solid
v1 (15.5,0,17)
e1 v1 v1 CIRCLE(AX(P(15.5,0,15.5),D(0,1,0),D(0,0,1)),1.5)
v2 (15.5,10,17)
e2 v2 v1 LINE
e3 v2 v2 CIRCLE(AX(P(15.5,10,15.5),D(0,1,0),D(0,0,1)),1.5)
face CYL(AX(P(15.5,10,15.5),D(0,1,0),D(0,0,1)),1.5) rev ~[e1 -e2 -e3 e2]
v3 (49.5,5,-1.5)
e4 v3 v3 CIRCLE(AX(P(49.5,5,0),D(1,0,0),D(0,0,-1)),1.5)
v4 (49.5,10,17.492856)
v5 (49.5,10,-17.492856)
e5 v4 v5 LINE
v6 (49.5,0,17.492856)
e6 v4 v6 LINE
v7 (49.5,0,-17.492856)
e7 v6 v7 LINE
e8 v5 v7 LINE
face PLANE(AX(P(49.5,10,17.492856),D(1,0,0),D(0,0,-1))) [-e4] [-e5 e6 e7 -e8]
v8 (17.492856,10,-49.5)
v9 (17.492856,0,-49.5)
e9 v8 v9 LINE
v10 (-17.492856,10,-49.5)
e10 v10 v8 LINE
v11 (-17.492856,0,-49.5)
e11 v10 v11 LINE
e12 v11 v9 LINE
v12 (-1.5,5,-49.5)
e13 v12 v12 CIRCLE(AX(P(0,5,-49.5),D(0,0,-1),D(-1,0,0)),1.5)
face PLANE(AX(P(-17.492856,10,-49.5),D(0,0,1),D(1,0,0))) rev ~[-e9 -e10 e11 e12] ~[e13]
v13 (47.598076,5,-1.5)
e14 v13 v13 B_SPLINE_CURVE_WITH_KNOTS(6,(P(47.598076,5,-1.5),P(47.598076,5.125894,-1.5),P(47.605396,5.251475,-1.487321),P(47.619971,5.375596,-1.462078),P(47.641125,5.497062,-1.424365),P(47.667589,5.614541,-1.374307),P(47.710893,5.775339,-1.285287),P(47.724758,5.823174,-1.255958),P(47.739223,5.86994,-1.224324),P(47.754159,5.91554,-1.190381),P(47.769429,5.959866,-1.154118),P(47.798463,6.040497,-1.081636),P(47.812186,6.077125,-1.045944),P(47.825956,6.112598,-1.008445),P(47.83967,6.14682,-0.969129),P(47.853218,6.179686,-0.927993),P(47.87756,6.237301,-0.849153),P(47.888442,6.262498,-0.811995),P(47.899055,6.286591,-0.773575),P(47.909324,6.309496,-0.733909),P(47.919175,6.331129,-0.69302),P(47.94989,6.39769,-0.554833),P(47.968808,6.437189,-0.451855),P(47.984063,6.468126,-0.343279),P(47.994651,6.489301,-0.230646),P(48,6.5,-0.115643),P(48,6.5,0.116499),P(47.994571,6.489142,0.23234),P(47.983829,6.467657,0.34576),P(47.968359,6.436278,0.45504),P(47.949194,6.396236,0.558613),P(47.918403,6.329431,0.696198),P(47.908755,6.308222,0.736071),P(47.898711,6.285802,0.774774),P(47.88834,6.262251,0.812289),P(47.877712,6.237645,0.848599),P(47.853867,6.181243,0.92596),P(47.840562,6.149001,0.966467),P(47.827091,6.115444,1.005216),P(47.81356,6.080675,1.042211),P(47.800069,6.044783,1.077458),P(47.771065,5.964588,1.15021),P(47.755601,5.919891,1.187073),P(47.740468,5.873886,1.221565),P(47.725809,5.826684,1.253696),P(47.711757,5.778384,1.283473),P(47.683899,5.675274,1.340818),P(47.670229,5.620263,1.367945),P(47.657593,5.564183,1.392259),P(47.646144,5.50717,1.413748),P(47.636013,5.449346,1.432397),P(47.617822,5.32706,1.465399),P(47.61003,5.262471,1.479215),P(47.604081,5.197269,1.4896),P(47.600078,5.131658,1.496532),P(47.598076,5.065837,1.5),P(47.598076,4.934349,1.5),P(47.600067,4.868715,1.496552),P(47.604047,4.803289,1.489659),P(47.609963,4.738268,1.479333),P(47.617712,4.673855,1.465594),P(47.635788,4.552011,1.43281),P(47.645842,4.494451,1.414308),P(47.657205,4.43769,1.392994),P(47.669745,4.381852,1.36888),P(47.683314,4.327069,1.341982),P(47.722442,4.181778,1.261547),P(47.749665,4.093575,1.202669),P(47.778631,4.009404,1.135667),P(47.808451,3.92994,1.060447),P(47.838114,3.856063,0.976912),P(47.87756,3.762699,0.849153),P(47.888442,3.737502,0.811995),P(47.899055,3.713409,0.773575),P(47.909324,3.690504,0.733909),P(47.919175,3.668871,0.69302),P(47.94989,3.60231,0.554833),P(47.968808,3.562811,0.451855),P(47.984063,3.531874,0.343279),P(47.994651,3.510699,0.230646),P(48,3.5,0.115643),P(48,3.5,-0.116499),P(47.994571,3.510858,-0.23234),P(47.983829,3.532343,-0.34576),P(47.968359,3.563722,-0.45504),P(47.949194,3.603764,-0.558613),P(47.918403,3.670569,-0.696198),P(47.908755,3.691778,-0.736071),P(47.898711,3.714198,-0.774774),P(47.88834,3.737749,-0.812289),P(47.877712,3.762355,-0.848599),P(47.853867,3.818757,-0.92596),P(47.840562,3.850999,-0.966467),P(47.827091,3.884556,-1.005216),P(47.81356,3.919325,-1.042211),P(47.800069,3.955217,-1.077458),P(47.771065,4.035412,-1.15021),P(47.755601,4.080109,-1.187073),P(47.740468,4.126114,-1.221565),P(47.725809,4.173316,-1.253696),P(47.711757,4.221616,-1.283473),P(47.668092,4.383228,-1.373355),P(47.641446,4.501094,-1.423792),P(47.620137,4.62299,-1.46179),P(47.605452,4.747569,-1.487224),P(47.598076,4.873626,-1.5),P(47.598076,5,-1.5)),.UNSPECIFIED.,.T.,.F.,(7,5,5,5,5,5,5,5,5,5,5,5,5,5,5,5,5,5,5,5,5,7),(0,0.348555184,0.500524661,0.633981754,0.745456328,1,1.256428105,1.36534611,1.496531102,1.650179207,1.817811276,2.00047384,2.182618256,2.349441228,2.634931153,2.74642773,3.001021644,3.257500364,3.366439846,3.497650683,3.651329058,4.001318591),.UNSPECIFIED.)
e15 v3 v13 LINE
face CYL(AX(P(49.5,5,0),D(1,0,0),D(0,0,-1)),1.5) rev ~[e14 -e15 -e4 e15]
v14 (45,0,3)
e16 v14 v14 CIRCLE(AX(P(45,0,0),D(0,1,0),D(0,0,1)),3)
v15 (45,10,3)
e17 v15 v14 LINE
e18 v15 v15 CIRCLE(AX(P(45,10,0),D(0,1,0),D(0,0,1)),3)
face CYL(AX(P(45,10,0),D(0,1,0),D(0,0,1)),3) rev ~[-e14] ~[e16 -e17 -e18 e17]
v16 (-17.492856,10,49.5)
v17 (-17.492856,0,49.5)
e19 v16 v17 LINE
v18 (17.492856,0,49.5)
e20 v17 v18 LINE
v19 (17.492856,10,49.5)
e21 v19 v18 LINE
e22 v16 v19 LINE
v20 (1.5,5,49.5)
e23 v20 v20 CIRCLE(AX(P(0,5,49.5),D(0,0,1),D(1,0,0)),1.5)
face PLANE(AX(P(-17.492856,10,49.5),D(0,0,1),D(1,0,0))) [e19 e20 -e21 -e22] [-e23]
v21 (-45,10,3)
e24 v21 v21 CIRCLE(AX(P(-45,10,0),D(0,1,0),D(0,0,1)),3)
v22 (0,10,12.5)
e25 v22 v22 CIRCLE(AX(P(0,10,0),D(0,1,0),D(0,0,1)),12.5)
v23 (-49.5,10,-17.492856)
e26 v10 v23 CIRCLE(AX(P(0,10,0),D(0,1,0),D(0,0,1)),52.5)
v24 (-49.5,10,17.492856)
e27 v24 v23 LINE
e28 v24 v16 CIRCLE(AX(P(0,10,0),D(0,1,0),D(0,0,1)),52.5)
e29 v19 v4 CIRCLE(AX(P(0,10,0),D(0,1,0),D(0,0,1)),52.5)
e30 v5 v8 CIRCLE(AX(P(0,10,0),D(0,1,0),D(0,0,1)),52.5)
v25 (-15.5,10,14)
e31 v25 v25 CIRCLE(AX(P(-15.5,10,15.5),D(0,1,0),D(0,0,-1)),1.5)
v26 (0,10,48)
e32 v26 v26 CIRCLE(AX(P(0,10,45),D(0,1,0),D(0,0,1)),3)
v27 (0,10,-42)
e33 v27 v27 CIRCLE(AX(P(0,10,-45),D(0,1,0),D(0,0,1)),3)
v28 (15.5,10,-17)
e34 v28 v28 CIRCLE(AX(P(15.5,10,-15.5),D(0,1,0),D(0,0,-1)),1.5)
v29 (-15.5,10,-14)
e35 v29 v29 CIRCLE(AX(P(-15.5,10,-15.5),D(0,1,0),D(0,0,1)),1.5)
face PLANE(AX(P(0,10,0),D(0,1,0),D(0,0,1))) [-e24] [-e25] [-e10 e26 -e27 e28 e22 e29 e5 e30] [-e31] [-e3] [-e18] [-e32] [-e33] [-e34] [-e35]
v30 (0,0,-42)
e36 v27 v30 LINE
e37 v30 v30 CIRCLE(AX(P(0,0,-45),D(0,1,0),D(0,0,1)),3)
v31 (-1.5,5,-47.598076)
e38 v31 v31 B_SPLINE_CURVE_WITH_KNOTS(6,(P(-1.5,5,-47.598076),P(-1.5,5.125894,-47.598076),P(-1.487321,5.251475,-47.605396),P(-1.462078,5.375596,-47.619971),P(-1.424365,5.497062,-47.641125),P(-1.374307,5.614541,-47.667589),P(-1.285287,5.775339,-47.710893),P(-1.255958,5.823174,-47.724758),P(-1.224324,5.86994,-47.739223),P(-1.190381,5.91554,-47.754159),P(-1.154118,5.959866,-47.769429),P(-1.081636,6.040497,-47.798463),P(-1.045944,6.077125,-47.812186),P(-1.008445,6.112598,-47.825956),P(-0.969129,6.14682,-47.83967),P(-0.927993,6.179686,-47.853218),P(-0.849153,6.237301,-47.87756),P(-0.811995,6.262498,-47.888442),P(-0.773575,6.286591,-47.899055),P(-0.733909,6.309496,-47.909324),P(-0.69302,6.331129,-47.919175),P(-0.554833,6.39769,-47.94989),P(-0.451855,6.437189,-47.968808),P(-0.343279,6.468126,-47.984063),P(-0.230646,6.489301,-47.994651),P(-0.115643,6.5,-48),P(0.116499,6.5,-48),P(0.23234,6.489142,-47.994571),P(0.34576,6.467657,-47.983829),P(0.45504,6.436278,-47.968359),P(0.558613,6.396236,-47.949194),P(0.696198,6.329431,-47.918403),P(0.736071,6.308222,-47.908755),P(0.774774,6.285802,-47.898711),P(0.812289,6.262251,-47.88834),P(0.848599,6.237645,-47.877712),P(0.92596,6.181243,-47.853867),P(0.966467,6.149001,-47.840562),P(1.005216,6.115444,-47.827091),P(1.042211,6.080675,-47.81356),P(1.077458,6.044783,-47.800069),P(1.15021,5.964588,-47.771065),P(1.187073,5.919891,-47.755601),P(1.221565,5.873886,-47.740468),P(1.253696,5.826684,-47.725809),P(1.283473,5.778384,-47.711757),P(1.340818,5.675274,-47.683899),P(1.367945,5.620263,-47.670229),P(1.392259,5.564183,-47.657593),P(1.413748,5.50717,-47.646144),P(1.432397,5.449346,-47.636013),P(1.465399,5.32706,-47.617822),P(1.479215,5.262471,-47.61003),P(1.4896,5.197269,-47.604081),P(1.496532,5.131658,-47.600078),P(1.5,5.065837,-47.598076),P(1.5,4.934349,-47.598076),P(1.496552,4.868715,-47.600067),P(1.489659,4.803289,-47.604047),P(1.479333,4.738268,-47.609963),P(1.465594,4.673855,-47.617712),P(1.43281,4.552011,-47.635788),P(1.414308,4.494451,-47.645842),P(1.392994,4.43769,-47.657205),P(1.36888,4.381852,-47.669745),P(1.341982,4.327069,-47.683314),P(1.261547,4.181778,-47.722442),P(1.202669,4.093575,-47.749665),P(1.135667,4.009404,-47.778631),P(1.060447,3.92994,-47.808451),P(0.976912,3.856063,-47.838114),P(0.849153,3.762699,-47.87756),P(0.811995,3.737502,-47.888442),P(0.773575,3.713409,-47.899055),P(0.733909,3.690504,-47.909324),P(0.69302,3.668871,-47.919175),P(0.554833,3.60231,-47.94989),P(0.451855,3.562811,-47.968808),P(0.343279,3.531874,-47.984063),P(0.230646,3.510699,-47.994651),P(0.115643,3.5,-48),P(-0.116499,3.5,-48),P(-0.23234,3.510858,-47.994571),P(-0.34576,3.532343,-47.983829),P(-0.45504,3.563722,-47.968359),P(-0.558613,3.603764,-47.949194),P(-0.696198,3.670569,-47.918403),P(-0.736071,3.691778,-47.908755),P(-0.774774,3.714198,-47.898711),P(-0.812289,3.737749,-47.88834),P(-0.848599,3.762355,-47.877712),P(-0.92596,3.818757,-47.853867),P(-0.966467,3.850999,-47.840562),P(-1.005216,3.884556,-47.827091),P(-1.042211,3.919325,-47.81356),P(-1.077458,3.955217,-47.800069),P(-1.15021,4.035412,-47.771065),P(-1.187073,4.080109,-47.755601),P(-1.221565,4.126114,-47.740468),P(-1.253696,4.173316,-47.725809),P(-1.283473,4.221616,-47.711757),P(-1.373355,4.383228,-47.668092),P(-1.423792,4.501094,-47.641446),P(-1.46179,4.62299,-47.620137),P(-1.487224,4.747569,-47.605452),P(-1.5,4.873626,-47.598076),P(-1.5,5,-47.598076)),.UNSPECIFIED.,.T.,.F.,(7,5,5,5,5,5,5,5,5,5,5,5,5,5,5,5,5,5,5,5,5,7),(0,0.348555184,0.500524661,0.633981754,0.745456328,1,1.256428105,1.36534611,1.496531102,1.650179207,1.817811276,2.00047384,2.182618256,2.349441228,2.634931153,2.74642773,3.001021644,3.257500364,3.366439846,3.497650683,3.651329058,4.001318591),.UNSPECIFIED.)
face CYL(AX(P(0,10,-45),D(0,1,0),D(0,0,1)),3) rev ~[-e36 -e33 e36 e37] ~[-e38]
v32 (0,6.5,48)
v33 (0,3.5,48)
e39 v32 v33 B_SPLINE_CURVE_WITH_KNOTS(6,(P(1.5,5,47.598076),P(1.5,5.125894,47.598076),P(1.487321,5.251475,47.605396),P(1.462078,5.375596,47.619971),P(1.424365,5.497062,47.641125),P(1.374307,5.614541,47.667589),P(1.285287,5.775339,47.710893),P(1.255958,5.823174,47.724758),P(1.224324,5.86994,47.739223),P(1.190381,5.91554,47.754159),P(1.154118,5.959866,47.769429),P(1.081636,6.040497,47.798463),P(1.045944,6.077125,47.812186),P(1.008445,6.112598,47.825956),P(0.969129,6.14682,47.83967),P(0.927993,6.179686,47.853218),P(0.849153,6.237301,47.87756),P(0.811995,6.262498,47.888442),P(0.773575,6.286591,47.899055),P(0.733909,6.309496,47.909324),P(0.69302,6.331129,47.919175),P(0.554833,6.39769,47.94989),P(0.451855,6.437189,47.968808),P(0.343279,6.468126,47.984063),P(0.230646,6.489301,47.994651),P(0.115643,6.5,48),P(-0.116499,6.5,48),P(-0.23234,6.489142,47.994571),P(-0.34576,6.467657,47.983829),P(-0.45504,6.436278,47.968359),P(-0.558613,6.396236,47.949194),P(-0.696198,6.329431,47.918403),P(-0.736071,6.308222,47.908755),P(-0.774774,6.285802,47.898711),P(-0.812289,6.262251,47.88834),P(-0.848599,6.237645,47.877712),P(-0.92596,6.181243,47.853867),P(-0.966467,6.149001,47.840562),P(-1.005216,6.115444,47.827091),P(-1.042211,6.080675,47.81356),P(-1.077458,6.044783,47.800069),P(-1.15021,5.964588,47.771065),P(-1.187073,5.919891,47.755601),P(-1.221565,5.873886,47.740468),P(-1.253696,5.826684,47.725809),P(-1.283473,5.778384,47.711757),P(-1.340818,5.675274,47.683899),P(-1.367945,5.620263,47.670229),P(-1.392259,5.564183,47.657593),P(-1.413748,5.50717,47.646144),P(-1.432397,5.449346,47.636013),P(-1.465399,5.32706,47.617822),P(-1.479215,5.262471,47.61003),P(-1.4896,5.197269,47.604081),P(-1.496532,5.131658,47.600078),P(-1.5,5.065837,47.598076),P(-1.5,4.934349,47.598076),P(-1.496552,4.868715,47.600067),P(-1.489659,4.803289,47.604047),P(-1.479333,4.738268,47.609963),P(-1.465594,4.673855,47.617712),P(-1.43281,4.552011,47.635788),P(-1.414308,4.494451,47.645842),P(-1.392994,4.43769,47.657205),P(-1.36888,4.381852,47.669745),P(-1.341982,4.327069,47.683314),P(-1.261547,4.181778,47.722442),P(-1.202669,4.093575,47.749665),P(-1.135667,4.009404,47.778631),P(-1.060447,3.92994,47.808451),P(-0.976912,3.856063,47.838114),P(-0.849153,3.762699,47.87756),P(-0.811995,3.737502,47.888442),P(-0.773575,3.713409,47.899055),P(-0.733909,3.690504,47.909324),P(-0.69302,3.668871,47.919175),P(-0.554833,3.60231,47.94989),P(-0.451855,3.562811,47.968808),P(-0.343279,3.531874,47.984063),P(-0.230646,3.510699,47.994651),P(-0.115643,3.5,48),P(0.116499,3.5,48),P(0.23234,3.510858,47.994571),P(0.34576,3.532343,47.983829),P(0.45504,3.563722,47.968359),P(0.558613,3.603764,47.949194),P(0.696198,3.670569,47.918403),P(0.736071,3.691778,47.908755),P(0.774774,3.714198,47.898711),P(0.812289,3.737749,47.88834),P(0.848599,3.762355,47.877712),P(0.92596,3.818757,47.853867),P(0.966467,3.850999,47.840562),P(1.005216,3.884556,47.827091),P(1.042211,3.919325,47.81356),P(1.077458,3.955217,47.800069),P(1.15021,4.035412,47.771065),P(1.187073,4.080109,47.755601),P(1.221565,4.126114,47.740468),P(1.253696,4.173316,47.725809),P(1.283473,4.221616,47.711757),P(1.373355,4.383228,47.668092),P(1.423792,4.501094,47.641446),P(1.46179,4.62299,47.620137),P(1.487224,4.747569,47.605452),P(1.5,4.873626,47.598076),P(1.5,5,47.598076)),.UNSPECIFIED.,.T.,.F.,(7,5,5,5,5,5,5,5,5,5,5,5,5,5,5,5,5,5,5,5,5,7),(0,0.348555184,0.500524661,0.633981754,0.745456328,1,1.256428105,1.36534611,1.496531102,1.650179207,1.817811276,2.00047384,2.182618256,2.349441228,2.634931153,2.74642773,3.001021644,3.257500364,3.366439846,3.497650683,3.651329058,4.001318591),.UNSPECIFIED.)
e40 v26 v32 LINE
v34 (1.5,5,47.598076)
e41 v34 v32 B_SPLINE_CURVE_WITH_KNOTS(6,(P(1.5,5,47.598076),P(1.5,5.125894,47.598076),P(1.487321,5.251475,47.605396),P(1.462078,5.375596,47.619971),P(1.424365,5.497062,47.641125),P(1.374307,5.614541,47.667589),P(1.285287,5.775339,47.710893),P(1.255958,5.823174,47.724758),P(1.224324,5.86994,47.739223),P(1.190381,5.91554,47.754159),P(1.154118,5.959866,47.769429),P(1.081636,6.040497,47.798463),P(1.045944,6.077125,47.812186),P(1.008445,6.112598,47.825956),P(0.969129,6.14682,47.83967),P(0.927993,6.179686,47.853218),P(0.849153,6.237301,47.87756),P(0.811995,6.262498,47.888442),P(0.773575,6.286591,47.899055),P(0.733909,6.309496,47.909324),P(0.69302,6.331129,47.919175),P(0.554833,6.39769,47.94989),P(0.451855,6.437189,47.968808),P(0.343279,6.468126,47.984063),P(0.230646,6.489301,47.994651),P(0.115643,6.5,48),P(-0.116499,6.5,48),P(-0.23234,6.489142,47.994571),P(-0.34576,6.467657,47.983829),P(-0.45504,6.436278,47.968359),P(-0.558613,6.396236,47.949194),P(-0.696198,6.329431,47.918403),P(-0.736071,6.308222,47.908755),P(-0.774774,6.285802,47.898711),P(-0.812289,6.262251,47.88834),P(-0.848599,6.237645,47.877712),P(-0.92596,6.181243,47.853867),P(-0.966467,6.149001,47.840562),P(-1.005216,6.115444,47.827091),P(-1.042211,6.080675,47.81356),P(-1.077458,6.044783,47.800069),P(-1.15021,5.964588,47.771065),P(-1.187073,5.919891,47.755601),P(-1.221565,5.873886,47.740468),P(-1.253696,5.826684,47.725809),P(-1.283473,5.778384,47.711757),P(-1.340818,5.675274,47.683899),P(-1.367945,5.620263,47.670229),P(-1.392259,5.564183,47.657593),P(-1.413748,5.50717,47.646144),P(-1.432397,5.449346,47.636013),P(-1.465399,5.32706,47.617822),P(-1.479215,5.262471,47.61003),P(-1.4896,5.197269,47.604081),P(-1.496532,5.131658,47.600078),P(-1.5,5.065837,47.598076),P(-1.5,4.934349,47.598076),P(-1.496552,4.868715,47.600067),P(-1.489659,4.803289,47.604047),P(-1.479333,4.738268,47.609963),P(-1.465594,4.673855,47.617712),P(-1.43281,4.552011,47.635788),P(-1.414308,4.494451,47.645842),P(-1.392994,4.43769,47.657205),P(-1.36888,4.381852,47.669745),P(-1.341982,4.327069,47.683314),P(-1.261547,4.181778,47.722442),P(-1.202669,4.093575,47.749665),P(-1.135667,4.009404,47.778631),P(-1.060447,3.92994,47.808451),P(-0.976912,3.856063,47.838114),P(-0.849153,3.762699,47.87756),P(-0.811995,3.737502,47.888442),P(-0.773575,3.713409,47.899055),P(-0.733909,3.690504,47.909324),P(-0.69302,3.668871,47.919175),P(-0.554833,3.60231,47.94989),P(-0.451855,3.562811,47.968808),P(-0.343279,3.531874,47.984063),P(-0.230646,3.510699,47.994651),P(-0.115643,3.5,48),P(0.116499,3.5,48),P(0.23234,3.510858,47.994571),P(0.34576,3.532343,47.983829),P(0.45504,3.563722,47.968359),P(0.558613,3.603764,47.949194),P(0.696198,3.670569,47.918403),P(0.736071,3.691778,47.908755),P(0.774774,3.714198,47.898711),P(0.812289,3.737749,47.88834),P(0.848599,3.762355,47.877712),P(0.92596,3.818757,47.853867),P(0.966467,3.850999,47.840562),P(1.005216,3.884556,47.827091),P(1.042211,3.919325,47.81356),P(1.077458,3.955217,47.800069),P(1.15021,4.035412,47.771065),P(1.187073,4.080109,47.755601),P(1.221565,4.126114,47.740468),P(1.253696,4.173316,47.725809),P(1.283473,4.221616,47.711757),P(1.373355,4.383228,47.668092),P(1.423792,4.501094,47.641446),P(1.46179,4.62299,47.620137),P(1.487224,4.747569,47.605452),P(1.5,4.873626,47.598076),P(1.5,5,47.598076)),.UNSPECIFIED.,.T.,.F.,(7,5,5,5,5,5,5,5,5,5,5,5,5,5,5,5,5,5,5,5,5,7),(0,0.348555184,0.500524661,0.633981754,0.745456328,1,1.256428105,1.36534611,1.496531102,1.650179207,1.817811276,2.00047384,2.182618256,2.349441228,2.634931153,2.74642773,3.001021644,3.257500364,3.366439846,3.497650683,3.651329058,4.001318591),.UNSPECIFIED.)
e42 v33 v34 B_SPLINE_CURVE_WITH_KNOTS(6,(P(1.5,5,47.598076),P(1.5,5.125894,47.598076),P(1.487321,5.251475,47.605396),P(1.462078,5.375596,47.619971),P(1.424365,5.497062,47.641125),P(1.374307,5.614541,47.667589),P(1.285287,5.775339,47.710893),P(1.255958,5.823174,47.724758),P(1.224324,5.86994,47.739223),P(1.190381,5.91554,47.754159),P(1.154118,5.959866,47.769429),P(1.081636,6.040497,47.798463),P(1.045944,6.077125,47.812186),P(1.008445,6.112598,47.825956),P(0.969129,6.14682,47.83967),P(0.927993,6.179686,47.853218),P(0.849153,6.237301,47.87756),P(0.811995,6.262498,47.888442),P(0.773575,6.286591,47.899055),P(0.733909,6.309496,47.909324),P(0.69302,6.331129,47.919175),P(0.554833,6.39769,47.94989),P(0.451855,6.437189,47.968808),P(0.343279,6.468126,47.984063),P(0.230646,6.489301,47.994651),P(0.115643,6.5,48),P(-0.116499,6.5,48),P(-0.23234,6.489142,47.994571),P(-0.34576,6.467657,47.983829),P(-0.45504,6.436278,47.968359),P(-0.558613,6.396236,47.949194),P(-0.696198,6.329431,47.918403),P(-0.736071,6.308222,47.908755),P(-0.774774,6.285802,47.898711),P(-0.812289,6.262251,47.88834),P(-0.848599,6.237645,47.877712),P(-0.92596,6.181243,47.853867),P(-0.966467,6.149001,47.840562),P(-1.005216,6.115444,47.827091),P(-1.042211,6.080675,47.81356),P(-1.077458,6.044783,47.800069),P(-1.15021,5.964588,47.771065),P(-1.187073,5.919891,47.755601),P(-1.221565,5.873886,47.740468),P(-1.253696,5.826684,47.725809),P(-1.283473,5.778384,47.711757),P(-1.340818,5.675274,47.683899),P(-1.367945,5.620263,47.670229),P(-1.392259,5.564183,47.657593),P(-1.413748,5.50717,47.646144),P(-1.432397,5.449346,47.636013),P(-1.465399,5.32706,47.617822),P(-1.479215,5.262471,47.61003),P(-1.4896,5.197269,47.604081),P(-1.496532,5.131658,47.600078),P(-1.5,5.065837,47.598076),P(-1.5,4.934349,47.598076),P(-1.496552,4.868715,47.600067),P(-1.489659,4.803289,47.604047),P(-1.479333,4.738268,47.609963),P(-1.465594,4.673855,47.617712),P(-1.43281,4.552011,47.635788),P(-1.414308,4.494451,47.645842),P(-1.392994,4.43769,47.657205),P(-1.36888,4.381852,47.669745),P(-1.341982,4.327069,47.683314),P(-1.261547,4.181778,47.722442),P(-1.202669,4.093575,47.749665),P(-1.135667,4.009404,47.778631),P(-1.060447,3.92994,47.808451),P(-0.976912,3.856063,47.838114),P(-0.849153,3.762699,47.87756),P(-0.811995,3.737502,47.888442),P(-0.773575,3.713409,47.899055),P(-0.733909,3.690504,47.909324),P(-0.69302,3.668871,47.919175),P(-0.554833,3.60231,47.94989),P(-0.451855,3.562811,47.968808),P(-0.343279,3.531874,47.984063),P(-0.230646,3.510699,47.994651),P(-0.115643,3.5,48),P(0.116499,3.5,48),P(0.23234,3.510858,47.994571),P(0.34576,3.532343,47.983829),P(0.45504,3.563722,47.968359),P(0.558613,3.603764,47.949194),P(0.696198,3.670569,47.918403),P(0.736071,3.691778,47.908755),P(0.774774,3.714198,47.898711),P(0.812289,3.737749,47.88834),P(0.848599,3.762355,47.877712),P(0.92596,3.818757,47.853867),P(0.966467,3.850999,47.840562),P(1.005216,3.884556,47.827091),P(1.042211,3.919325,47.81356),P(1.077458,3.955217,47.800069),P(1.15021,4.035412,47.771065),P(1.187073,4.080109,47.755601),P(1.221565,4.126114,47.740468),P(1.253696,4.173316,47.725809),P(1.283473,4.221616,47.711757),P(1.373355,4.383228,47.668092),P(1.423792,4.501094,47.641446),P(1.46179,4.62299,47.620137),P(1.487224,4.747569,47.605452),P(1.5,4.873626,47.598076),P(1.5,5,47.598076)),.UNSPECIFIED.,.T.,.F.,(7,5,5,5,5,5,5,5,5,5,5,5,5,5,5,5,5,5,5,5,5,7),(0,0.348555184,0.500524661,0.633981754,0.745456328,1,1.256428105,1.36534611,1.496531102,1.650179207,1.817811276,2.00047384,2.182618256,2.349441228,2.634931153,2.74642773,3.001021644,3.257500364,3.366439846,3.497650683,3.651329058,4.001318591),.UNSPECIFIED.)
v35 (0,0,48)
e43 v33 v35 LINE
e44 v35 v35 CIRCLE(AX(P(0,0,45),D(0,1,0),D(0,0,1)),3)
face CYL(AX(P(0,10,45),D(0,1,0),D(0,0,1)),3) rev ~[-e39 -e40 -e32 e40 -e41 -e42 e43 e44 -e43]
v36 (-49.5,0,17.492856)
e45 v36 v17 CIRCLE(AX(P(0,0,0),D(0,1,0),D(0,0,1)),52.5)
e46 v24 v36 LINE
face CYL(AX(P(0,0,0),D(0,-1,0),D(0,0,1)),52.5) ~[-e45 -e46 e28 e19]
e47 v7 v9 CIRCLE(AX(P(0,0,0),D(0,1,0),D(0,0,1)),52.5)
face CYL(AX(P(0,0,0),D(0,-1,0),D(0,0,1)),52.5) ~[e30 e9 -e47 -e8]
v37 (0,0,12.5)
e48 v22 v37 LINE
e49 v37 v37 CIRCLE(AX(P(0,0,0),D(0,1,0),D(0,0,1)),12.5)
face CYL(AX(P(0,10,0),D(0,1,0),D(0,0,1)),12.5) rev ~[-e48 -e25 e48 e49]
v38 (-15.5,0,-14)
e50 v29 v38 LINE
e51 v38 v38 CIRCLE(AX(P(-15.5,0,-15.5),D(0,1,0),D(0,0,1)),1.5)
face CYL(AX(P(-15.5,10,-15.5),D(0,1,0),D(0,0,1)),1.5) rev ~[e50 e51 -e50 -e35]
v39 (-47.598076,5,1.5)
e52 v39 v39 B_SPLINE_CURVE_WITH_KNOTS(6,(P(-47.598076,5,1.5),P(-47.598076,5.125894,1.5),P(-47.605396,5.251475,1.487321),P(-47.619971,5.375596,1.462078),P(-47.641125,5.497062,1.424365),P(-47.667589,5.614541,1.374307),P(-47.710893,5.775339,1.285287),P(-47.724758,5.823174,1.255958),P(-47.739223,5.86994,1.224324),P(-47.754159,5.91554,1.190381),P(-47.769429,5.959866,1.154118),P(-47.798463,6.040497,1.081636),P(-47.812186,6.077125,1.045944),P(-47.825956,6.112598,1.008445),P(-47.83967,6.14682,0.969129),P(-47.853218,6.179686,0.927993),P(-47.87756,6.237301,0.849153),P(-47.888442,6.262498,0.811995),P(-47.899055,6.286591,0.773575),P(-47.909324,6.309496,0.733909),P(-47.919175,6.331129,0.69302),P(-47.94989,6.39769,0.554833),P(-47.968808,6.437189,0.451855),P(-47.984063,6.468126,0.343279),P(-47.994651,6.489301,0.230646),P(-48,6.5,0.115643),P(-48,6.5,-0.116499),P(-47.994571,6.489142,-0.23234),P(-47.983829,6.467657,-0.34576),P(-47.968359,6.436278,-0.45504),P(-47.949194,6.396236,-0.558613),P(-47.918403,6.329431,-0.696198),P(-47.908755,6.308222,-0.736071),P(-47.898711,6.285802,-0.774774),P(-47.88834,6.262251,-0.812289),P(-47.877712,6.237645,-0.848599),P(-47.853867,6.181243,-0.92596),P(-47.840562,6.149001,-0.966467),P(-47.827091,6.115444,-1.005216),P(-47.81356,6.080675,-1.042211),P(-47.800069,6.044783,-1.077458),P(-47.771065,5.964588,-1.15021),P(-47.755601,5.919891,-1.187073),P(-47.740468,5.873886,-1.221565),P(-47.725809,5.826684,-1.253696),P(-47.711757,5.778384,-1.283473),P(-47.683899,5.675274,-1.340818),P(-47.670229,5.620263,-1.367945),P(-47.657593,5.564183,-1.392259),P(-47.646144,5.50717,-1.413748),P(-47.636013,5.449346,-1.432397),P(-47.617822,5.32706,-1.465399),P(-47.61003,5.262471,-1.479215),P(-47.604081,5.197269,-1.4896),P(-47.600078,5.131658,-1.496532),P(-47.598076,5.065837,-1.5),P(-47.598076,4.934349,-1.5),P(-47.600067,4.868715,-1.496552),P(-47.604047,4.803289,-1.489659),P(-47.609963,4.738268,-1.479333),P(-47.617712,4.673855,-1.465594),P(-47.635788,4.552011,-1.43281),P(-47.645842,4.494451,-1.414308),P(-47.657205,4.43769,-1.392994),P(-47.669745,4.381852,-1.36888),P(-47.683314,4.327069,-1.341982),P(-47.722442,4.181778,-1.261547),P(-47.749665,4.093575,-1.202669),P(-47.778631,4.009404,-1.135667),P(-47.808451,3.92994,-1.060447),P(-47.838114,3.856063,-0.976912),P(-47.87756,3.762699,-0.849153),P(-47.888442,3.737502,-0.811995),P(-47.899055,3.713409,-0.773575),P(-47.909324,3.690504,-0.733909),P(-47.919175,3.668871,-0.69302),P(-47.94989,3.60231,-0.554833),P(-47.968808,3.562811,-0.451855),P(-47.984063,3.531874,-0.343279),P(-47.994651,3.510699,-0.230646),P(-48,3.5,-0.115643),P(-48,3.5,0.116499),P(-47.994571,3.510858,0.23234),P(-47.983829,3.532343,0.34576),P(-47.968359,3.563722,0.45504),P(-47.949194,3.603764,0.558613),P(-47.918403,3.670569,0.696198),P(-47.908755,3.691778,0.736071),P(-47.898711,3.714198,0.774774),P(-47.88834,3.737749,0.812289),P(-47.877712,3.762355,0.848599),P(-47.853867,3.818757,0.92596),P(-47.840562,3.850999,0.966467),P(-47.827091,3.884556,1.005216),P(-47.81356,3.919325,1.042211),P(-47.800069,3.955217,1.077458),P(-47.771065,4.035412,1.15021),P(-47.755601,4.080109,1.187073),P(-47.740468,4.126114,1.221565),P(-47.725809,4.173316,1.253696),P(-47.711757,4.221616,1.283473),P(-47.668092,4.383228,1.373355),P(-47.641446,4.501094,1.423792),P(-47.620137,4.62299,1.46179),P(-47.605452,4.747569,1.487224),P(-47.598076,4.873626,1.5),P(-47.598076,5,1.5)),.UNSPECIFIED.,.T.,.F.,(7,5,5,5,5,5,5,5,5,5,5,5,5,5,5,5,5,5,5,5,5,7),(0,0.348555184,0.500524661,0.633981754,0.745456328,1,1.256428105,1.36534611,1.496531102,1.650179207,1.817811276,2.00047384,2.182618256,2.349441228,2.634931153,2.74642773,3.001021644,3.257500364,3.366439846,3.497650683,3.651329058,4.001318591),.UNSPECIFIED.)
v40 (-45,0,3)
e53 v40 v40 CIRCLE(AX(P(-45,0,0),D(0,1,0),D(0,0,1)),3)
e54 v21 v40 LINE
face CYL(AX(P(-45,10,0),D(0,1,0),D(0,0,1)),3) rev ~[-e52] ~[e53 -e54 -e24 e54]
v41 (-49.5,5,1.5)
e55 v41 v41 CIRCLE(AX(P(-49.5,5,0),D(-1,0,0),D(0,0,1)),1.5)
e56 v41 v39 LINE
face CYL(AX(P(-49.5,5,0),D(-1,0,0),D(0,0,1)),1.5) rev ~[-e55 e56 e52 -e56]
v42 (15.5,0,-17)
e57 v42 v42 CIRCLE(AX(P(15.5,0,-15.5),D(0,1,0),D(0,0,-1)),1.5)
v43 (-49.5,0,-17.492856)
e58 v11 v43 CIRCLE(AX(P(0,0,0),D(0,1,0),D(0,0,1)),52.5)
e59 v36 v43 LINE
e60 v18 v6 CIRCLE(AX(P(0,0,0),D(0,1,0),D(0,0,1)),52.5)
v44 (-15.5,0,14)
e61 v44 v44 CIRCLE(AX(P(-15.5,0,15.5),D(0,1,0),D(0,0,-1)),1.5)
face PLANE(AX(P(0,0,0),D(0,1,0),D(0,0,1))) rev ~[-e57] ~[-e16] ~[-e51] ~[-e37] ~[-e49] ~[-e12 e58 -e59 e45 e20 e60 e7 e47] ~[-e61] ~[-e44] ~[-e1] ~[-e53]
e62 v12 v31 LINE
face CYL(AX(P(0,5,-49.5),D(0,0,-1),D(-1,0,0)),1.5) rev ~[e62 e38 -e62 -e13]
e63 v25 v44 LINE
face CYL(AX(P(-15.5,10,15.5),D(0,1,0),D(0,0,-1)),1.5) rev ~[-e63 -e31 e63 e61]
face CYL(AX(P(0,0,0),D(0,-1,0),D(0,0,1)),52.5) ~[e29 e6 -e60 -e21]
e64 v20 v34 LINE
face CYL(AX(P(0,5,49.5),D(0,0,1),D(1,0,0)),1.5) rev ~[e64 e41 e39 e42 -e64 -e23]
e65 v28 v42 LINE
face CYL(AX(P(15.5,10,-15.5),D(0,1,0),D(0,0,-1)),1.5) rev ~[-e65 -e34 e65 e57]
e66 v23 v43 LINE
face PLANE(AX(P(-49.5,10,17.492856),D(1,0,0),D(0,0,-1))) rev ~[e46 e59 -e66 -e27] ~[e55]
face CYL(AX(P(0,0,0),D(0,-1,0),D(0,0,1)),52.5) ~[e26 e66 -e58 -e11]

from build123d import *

# Parameters (mm, degrees)
SKETCH1_R               = 52.5
BOSS_EXTRUDE1_DEPTH     = 10
SKETCH3_R               = 3
CUT_EXTRUDE1_DEPTH      = 75.916620319
SKETCH4_W               = 34.98571137
SKETCH4_H               = 10
SKETCH4_W_2             = 10
SKETCH4_H_2             = 34.98571137
CUT_EXTRUDE_THIN1_DEPTH = 75.916620319
CUT_EXTRUDE3_REACH      = 113.136
CUT_EXTRUDE3_END_RADIUS = 3
SKETCH5_R               = 1.5
CIRPATTERN1_COUNT       = 4
SKETCH6_R               = 12.5
CUT_EXTRUDE4_DEPTH      = 71.714213718
SKETCH7_R               = 1.5
CUT_EXTRUDE5_DEPTH      = 71.714213718


with BuildPart() as part:
    # Sketch1 → Boss-Extrude1 (new body)
    with BuildSketch(Plane(origin=(0, 0, 0), x_dir=(1, 0, 0), z_dir=(0, 1, 0))):
        with Locations(Location((0, 0, 0), (0, 0, 270))):
            Circle(SKETCH1_R)
    extrude(amount=BOSS_EXTRUDE1_DEPTH)

    # Sketch3 → Cut-Extrude1 (cut, through all)
    with BuildSketch(Plane(origin=(0, 10, 0), x_dir=(1, 0, 0), z_dir=(0, 1, 0))):
        with Locations(Location((0, 45, 0), (0, 0, 270))):
            Circle(SKETCH3_R)
        with Locations(Location((45, 0, 0), (0, 0, 270))):
            Circle(SKETCH3_R)
        with Locations(Location((0, -45, 0), (0, 0, 270))):
            Circle(SKETCH3_R)
        with Locations(Location((-45, 0, 0), (0, 0, 270))):
            Circle(SKETCH3_R)
    extrude(amount=-CUT_EXTRUDE1_DEPTH, mode=Mode.SUBTRACT)

    # Sketch4 → Cut-Extrude-Thin1 (cut, through all)
    with BuildSketch(Plane(origin=(0, 10, 0), x_dir=(1, 0, 0), z_dir=(0, 1, 0))):
        with Locations((0, -54.5)):
            Rectangle(SKETCH4_W, SKETCH4_H)
        with Locations((54.5, 0)):
            Rectangle(SKETCH4_W_2, SKETCH4_H_2)
        with Locations((0, 54.5)):
            Rectangle(SKETCH4_W, SKETCH4_H)
        with Locations((-54.5, 0)):
            Rectangle(SKETCH4_W_2, SKETCH4_H_2)
    extrude(amount=-CUT_EXTRUDE_THIN1_DEPTH, mode=Mode.SUBTRACT)

    # Cut-Extrude3: up to this cylinder (the profile starts outside it)
    cut_extrude3_end = Plane(origin=(0, 5, 45), z_dir=(0, 1, 0)) * Cylinder(CUT_EXTRUDE3_END_RADIUS, 233.272, mode=Mode.PRIVATE)
    # Sketch5 → Cut-Extrude3 (cut, up to the surface)
    with BuildSketch(Plane.XY.offset(49.5), mode=Mode.PRIVATE) as cut_extrude3_sk1:
        with Locations((0, 5)):
            Circle(SKETCH5_R)
    cut_extrude3_tool1 = extrude(cut_extrude3_sk1.sketch, amount=-CUT_EXTRUDE3_REACH, mode=Mode.PRIVATE) - cut_extrude3_end
    cut_extrude3 = cut_extrude3_tool1.solids().sort_by_distance((0, 5, 49.5))[0]
    add(cut_extrude3, mode=Mode.SUBTRACT)

    # CirPattern1: Cut-Extrude3 ×4 about axis
    cirpattern1_axis = Axis((0, 10, 0), (0, -1, 0))
    for i in range(1, CIRPATTERN1_COUNT):
        add(cut_extrude3.rotate(cirpattern1_axis, i * 360 / CIRPATTERN1_COUNT), mode=Mode.SUBTRACT)

    # Sketch6 → Cut-Extrude4 (cut, through all)
    with BuildSketch(Plane(origin=(0, 10, 0), x_dir=(1, 0, 0), z_dir=(0, 1, 0))):
        with Locations(Location((0, 0, 0), (0, 0, 270))):
            Circle(SKETCH6_R)
    extrude(amount=-CUT_EXTRUDE4_DEPTH, mode=Mode.SUBTRACT)

    # Sketch7 → Cut-Extrude5 (cut, through all)
    with BuildSketch(Plane(origin=(0, 10, 0), x_dir=(1, 0, 0), z_dir=(0, 1, 0))):
        with Locations(Location((-15.5, 15.5, 0), (0, 0, 270))):
            Circle(SKETCH7_R)
        with Locations(Location((15.5, 15.5, 0), (0, 0, 90))):
            Circle(SKETCH7_R)
        with Locations(Location((15.5, -15.5, 0), (0, 0, 270))):
            Circle(SKETCH7_R)
        with Locations(Location((-15.5, -15.5, 0), (0, 0, 90))):
            Circle(SKETCH7_R)
    extrude(amount=-CUT_EXTRUDE5_DEPTH, mode=Mode.SUBTRACT)


solid = part.part
